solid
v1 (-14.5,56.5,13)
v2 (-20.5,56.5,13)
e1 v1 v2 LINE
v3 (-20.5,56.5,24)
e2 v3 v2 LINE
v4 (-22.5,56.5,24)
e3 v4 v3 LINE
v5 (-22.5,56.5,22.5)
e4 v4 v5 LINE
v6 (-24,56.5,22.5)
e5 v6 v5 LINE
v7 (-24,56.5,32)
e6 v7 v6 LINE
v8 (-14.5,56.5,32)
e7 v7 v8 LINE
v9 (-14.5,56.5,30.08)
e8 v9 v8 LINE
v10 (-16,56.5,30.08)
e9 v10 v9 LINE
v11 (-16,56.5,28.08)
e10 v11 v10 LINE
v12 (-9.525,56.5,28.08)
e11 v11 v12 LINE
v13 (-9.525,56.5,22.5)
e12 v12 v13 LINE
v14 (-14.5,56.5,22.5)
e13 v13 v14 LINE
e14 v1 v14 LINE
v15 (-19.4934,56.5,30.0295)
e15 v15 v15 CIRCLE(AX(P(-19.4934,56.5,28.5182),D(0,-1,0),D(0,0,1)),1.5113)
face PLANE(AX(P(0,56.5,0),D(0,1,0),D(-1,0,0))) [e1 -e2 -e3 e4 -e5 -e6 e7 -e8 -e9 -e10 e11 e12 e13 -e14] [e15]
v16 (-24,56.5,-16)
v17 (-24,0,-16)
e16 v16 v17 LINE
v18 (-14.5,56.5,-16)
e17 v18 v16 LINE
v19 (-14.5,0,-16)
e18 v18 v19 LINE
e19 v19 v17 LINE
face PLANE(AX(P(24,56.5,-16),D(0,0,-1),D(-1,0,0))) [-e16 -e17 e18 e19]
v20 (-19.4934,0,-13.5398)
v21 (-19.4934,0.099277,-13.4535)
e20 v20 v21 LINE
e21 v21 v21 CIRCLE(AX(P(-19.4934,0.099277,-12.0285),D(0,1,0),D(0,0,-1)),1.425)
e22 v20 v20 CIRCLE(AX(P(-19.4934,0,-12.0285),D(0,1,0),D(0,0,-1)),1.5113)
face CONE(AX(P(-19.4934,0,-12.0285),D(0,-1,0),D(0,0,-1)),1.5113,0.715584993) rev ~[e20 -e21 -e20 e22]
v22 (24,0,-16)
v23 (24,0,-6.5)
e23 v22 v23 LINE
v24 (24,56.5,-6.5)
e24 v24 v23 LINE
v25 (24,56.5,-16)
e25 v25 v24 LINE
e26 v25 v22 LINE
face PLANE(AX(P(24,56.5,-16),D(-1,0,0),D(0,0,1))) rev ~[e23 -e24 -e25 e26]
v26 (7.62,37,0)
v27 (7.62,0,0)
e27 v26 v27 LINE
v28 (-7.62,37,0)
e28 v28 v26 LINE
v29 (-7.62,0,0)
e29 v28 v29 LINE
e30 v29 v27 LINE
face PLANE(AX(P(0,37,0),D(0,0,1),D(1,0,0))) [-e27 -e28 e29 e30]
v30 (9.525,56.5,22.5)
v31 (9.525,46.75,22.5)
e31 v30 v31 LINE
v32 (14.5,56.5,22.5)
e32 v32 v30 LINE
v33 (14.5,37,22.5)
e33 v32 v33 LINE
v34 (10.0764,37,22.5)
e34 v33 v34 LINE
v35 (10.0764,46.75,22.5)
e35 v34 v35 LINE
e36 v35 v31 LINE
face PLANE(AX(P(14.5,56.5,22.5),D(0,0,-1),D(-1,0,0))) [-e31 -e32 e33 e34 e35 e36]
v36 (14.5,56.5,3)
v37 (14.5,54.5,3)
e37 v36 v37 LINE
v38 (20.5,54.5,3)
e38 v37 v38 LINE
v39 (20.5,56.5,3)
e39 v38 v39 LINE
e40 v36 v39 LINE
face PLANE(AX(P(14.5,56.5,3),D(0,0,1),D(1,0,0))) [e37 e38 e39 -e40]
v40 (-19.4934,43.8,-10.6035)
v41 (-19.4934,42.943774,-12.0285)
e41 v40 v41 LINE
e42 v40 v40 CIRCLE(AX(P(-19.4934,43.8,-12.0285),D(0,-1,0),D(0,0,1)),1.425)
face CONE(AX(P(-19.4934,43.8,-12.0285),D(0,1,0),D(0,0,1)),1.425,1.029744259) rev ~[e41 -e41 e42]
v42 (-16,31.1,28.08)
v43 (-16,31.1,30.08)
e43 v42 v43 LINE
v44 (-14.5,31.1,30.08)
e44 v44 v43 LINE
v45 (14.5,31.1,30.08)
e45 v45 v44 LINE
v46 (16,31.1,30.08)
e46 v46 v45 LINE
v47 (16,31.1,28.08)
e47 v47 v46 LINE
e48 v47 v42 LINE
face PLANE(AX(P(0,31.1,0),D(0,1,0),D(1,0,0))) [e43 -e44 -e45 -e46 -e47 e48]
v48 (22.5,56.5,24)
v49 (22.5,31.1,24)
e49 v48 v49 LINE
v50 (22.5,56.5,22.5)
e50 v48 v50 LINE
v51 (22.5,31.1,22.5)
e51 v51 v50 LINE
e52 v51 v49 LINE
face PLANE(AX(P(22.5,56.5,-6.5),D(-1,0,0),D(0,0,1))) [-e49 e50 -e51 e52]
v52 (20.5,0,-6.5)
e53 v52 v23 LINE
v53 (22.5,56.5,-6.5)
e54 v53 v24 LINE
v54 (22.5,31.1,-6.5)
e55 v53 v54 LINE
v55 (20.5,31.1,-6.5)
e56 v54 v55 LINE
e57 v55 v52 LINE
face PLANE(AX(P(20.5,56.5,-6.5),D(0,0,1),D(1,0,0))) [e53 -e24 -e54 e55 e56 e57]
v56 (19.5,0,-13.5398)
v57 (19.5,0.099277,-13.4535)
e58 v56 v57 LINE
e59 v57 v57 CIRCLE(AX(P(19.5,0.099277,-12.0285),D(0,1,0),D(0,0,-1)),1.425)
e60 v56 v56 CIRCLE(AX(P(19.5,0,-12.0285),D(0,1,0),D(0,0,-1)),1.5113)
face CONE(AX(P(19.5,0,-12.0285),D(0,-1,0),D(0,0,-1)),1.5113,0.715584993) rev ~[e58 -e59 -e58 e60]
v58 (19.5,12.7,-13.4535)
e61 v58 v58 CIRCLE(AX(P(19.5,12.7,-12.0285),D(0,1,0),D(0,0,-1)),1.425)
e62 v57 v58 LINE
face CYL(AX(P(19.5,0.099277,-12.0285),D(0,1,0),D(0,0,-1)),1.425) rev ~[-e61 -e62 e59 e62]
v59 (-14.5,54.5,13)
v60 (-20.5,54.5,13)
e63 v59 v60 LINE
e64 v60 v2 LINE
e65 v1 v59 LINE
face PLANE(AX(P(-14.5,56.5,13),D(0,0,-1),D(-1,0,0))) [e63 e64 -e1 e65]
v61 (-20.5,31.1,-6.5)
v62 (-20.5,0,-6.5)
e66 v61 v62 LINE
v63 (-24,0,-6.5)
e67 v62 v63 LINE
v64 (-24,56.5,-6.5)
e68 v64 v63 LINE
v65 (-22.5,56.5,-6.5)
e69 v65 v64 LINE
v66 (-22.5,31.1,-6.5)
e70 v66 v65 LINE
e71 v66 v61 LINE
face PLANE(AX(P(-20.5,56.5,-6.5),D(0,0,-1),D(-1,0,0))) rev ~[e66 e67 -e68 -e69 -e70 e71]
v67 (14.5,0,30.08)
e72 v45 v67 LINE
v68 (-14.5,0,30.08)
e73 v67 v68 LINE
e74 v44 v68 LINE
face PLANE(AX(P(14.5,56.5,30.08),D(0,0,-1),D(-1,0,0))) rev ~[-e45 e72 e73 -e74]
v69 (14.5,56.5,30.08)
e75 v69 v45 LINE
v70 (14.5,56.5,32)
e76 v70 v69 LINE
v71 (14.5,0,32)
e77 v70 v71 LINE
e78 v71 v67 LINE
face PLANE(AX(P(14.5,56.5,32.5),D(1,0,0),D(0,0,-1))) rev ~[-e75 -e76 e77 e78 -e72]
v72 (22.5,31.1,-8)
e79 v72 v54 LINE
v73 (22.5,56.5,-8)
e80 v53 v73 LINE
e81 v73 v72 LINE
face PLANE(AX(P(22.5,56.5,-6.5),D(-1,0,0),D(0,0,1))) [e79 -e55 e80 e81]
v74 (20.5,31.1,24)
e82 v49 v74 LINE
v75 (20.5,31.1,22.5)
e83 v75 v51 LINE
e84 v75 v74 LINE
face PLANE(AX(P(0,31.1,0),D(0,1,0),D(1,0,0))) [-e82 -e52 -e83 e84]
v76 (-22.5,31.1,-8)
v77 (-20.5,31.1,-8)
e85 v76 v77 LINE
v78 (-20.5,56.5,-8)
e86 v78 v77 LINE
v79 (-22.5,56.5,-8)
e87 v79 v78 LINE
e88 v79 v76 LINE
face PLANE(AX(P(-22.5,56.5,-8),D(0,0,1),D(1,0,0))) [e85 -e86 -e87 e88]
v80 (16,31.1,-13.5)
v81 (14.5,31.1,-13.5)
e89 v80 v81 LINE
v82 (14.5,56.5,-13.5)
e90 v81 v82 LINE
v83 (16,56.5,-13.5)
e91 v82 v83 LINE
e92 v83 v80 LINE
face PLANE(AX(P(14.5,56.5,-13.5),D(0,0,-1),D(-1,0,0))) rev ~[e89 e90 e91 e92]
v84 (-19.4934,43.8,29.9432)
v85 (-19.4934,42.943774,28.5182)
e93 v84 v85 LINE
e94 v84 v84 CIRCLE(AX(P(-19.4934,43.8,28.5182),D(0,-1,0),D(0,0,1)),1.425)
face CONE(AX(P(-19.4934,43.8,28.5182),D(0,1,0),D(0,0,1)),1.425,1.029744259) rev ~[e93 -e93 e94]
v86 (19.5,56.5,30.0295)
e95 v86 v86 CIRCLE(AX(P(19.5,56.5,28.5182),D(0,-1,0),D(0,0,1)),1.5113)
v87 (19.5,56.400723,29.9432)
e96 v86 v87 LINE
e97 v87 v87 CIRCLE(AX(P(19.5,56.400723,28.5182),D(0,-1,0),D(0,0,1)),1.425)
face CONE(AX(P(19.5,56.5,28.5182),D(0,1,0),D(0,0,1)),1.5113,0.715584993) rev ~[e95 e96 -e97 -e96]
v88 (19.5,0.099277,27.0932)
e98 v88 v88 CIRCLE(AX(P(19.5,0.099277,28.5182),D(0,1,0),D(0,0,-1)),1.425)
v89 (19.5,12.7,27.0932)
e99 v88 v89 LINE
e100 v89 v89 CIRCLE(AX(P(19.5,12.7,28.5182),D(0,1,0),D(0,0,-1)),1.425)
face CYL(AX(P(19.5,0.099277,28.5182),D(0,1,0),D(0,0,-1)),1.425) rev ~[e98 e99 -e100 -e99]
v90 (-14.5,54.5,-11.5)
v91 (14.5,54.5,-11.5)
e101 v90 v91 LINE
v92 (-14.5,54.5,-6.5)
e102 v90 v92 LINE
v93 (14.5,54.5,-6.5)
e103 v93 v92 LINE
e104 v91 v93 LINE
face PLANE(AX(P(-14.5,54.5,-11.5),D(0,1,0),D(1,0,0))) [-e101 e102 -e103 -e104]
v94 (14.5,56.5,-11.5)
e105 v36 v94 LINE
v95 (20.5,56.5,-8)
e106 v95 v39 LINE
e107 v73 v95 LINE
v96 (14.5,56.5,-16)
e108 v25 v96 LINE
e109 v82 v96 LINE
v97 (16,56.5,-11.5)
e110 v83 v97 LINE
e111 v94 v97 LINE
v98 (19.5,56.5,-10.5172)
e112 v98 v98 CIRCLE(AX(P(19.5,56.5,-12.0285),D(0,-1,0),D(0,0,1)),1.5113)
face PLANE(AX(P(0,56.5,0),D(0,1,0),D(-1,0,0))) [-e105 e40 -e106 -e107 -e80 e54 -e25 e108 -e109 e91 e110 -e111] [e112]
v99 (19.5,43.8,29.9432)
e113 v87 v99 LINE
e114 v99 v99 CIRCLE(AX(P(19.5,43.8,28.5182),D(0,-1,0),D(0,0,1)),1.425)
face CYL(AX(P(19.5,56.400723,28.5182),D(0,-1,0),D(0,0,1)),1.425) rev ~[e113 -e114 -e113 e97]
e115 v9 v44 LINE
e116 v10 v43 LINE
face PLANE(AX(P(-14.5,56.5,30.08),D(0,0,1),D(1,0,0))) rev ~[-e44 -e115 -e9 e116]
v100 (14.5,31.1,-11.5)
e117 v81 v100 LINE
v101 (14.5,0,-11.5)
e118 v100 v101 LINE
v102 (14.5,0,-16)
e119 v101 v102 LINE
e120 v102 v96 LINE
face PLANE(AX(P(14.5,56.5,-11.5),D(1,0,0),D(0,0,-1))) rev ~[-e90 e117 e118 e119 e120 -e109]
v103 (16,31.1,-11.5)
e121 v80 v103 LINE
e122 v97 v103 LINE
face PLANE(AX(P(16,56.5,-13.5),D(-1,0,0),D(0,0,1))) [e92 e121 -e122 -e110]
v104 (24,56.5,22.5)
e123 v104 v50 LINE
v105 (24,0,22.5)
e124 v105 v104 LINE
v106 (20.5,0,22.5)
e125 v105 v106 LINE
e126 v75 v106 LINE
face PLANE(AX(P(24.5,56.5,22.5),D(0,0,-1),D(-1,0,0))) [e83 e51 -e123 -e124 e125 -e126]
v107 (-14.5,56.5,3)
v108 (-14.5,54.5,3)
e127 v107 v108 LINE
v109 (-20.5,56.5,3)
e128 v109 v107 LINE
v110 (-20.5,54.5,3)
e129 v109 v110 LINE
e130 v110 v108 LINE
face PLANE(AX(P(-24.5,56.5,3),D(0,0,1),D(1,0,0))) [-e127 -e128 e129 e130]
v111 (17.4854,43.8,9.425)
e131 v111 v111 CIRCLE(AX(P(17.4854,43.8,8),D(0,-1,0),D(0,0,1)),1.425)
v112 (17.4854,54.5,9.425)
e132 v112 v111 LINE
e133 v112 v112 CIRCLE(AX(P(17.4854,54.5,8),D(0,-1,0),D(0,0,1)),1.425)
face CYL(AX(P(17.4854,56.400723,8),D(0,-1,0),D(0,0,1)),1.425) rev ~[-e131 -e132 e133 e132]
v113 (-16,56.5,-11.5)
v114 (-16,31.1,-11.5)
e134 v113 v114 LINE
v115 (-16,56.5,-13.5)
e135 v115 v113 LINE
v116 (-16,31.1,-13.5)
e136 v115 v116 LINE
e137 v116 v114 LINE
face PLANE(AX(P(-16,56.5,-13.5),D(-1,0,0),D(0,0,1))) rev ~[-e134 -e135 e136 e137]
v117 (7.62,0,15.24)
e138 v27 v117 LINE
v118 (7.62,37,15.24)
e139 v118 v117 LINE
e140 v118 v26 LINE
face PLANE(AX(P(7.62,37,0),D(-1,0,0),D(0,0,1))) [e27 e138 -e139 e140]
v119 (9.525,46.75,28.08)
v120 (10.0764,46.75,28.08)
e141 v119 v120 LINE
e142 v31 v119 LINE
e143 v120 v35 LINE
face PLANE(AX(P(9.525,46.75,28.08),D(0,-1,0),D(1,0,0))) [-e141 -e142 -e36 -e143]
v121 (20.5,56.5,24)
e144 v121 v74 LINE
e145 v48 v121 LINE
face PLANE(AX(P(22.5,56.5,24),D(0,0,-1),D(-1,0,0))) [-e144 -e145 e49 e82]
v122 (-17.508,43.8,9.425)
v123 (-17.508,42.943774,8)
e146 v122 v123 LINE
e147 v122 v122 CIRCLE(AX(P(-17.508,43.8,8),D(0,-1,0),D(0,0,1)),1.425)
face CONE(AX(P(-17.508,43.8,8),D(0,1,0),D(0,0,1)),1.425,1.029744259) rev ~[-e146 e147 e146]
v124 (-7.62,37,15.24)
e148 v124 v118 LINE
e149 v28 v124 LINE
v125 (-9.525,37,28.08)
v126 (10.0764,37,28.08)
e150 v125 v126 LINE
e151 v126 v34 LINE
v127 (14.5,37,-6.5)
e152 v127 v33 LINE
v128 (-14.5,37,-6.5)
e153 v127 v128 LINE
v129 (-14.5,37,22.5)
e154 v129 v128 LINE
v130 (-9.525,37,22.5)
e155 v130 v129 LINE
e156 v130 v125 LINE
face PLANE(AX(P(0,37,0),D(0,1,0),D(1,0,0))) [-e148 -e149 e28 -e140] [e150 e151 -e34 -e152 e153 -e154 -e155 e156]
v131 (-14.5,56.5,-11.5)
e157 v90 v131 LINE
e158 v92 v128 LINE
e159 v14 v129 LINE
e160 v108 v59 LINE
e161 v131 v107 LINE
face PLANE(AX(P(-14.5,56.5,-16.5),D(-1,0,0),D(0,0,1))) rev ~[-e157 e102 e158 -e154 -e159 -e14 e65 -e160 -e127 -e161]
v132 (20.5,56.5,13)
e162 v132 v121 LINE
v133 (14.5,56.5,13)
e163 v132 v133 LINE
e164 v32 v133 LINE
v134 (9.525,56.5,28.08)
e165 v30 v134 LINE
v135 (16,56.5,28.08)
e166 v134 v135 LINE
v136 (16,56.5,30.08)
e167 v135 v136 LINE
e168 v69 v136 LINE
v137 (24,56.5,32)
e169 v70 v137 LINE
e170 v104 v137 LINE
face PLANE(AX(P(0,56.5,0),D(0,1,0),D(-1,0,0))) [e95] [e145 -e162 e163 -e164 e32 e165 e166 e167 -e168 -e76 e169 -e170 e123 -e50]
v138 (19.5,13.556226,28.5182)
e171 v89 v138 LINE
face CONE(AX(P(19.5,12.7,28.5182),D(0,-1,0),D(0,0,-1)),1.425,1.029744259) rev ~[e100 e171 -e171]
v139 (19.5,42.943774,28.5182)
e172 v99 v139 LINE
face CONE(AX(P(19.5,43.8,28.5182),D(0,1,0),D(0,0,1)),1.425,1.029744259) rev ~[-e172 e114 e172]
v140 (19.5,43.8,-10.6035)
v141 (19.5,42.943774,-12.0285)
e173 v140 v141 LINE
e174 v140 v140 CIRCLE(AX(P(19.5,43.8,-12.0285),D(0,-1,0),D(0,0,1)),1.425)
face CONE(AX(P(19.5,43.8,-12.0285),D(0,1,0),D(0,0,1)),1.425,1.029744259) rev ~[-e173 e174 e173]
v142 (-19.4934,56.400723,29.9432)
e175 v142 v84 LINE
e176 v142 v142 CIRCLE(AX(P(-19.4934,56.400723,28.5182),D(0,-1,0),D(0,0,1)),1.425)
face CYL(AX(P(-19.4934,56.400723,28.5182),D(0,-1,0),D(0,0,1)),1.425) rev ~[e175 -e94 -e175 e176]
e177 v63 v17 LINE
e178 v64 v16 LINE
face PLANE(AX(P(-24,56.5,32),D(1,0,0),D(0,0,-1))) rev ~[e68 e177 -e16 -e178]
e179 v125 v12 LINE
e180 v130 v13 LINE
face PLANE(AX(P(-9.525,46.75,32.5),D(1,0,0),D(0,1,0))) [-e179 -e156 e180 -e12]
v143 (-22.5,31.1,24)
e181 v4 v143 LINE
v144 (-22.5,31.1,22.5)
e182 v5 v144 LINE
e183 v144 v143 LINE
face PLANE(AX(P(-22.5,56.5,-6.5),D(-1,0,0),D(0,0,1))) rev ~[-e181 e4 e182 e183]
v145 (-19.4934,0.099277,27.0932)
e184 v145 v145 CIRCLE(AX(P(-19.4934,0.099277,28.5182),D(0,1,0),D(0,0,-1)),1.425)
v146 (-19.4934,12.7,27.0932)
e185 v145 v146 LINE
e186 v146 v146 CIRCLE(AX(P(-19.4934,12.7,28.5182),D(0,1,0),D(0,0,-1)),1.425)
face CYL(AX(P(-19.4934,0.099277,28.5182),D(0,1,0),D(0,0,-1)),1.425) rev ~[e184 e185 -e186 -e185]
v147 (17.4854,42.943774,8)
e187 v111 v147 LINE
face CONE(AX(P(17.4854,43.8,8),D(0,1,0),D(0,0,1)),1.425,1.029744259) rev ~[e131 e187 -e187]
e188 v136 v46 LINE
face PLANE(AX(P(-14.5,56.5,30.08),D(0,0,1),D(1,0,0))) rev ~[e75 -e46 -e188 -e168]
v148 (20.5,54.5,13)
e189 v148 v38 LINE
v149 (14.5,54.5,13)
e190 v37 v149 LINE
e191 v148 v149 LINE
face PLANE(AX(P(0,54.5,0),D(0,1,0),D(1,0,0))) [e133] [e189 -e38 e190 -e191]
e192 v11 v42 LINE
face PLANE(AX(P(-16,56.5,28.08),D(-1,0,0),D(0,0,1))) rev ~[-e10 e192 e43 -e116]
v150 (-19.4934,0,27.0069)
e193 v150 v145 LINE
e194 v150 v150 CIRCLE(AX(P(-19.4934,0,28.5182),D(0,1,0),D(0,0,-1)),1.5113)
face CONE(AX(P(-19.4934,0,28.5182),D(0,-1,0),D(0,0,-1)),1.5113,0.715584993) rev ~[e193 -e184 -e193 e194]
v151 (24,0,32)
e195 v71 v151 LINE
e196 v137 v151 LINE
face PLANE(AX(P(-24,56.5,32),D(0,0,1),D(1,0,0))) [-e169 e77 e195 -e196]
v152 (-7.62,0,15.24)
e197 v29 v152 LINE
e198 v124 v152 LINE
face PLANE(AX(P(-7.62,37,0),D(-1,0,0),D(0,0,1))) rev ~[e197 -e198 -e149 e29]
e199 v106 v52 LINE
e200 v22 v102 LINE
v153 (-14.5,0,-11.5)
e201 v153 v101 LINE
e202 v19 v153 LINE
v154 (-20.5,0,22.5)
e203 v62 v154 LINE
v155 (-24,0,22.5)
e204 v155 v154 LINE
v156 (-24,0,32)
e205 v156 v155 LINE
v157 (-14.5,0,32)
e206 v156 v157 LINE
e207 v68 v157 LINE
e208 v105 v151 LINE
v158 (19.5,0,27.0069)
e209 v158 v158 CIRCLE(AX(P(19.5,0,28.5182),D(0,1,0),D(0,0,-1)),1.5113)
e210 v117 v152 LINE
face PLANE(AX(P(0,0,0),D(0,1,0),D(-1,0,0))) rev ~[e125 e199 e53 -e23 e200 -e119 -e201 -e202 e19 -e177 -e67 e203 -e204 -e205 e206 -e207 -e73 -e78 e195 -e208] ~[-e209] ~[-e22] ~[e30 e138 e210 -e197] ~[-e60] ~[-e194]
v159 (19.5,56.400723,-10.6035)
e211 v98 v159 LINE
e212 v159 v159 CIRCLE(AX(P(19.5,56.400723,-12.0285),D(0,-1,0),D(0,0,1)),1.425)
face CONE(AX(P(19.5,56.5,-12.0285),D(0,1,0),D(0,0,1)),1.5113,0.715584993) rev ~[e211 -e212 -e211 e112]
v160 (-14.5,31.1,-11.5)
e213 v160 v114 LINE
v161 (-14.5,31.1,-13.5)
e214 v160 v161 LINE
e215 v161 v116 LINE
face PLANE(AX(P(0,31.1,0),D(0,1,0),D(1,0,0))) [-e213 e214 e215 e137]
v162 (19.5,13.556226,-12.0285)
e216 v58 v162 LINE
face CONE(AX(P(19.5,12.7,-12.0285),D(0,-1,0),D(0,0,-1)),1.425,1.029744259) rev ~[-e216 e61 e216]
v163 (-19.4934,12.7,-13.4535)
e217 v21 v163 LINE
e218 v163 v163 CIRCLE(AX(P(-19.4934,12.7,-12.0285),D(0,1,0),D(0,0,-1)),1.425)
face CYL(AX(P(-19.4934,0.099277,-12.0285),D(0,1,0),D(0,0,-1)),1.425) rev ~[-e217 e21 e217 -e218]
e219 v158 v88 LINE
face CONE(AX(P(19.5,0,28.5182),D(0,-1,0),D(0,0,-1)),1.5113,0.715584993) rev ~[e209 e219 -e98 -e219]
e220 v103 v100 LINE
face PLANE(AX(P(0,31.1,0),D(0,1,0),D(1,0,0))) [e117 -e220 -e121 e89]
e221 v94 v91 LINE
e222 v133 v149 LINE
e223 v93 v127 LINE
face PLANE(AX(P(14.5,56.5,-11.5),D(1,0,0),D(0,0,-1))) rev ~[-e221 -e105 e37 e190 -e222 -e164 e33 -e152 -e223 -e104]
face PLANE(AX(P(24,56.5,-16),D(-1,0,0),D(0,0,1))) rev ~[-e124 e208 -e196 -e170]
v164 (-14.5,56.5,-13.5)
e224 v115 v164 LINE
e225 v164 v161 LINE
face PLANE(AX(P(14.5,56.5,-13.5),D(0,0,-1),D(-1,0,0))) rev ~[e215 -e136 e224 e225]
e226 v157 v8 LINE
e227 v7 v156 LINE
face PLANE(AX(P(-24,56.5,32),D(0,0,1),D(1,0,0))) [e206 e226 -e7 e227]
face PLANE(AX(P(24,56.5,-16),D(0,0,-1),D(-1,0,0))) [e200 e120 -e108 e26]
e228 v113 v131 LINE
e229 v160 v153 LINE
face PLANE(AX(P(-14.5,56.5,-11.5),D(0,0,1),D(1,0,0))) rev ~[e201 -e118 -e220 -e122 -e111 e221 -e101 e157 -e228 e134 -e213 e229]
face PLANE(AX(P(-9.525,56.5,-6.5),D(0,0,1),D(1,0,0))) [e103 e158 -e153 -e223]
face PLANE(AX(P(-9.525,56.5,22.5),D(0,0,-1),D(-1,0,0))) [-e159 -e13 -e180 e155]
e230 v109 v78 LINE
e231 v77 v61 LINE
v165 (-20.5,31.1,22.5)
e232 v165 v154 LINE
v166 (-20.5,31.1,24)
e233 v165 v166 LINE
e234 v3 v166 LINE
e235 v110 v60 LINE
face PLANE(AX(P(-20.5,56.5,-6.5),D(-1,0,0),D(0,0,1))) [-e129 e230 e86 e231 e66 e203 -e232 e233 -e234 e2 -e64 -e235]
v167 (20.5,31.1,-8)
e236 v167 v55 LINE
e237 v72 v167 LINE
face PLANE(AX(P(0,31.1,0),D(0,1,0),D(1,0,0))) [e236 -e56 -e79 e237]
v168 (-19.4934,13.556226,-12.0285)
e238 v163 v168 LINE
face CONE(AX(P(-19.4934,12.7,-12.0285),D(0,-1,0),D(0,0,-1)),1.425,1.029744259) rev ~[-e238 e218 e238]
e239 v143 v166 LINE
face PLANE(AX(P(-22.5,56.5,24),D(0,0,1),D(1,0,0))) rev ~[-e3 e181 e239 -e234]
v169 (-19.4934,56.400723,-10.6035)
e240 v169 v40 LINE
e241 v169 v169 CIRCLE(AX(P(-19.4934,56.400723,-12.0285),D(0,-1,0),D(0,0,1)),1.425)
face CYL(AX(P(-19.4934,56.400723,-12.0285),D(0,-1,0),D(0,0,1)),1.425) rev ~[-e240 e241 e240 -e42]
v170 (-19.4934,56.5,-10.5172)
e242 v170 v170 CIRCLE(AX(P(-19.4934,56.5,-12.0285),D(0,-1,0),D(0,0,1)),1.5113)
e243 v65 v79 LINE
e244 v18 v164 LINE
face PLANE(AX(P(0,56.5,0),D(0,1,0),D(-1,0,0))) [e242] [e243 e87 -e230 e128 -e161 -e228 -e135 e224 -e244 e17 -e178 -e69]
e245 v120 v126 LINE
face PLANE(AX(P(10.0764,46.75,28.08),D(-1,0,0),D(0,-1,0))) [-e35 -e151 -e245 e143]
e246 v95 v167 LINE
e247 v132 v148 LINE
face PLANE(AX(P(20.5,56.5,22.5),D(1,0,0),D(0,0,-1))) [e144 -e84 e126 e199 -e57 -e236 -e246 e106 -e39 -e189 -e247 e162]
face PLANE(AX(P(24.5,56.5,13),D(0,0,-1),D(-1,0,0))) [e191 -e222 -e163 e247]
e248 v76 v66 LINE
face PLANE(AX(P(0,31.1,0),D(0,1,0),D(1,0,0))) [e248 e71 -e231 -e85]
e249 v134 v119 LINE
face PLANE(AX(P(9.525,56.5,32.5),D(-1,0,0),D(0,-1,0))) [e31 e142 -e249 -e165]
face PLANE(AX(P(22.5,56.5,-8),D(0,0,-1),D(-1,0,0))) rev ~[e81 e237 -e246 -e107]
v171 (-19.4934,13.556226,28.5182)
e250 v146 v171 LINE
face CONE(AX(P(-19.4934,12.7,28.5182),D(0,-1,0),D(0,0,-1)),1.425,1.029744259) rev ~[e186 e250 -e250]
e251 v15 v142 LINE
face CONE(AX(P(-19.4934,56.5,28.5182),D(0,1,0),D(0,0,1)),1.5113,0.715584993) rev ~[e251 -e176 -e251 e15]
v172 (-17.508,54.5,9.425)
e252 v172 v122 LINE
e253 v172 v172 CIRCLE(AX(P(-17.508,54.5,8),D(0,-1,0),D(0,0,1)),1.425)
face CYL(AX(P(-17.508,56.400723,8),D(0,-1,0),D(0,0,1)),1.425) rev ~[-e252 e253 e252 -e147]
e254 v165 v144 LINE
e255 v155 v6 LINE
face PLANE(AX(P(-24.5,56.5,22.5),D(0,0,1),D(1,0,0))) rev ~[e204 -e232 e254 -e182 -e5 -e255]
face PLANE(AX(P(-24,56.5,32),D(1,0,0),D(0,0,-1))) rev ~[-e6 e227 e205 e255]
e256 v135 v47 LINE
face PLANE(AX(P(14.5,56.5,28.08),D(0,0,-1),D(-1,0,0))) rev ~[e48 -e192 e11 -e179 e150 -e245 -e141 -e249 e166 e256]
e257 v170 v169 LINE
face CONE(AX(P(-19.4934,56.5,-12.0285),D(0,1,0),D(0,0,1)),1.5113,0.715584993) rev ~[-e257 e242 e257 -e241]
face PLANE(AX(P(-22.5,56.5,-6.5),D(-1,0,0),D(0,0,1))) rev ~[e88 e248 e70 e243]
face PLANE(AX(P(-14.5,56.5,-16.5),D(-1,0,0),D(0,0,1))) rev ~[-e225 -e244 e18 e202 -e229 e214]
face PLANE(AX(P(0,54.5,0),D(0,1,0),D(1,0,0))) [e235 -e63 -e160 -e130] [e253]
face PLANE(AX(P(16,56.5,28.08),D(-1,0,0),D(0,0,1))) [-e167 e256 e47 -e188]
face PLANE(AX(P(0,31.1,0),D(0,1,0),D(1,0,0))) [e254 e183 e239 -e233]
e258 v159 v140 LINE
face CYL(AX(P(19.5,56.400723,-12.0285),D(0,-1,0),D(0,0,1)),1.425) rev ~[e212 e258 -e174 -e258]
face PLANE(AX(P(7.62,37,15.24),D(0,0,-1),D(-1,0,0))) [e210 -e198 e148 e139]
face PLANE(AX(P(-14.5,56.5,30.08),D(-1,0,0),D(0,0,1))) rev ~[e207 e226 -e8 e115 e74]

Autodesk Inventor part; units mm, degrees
ref_plane "YZ Plane" through (0, 0, 0) normal (1, 0, 0) x (0, 1, 0)
ref_plane "XZ Plane" through (0, 0, 0) normal (0, 1, 0) x (-1, 0, 0)
ref_plane "XY Plane" through (0, 0, 0) normal (0, 0, 1) x (1, 0, 0)
sketch "Sketch1" plane through (0, 0, 0) normal (0, 1, 0) x (-1, 0, 0)
  line L0 (101.6, 101.6) -> (-101.6, 101.6)
  line L1 (-101.6, 101.6) -> (-101.6, -101.6)
  line L2 (-101.6, -101.6) -> (101.6, -101.6)
  line L3 (101.6, -101.6) -> (101.6, 101.6)
  circle A0 centre (0, 0) radius 2.5
  line L4 (9.525, -6.5) -> (-9.525, -6.5)
  line L5 (0, 0) -> (0, 8)
  line L6 (-14.5, -6.5) -> (-14.5, 22.5)
  line L7 (14.5, 22.5) -> (14.5, -6.5)
  circle A1 centre (0, 8) radius 14
  line L8 (-14.5, 22.5) -> (14.5, 22.5)
  line L9 (14.5, -6.5) -> (-14.5, -6.5)
  line L10 (-24.5, 32.5) -> (24.5, 32.5)
  line L11 (24.5, 32.5) -> (24.5, -16.5)
  line L12 (24.5, -16.5) -> (-24.5, -16.5)
  line L13 (-24.5, -16.5) -> (-24.5, 32.5)
  line L14 (-9.525, 22.5) -> (9.525, 22.5)
  line L15 (9.525, 22.5) -> (9.525, 27.58)
  line L16 (9.525, 27.58) -> (-9.525, 27.58)
  line L17 (-9.525, 27.58) -> (-9.525, 22.5)
  point P0 (9.525, 22.5)
  point P1 (-9.525, -6.5)
  dimension "d0" = 203.2
  dimension "d1" = 203.2
  dimension "d2" = 8
  dimension "d3" = 28
  dimension "d4" = 29
  dimension "d5" = 29
  dimension "d6" = 14.5
  dimension "d7" = 10
  dimension "d8" = 10
  dimension "d9" = 10
  dimension "d10" = 10
  dimension "d11" = 5.08
  dimension "d12" = 9.525
  dimension "d13" = 9.525
  dimension "d14" = 101.6
  dimension "d15" = 101.6
extrude "Extrusion1" add sketch "Sketch1" along normal blind 56.5 contours A0 | L4 L9 L6 L8 L7 | L8 L17 L16 L15 | A1 | L10 L11 L12 L13
sketch "Sketch2" plane through (0, 56.5, 0) normal (0, 1, 0) x (1, 0, 0)
  line L0 (101.6, 101.6) -> (-101.6, 101.6)
  line L1 (-101.6, 101.6) -> (-101.6, -101.6)
  line L2 (-101.6, -101.6) -> (101.6, -101.6)
  line L3 (101.6, -101.6) -> (101.6, 101.6)
  circle A0 centre (0, 0) radius 2.5
  line L4 (-9.525, 6.5) -> (9.525, 6.5)
  line L5 (0, 0) -> (0, -8)
  line L6 (14.5, 6.5) -> (14.5, -22.5)
  line L7 (-14.5, -22.5) -> (-14.5, 6.5)
  circle A1 centre (0, -8) radius 14
  line L8 (14.5, -22.5) -> (-14.5, -22.5)
  line L9 (-14.5, 6.5) -> (14.5, 6.5)
  line L10 (24.5, -32.5) -> (-24.5, -32.5)
  line L11 (-24.5, -32.5) -> (-24.5, 16.5)
  line L12 (-24.5, 16.5) -> (24.5, 16.5)
  line L13 (24.5, 16.5) -> (24.5, -32.5)
  line L14 (9.525, -22.5) -> (-9.525, -22.5)
  line L15 (-9.525, -22.5) -> (-9.525, -27.58)
  line L16 (-9.525, -27.58) -> (9.525, -27.58)
  line L17 (9.525, -27.58) -> (9.525, -22.5)
  point P0 (9.525, 22.5)
  point P1 (-9.525, -6.5)
  dimension "d18" = 203.2
  dimension "d19" = 203.2
  dimension "d20" = 8
  dimension "d21" = 28
  dimension "d22" = 29
  dimension "d23" = 29
  dimension "d24" = 14.5
  dimension "d25" = 10
  dimension "d26" = 10
  dimension "d27" = 10
  dimension "d28" = 10
  dimension "d29" = 5.08
  dimension "d30" = 9.525
  dimension "d31" = 9.525
  dimension "d32" = 101.6
  dimension "d33" = 101.6
extrude "Extrusion2" cut sketch "Sketch2" against normal blind 19.5 contours A0 | L4 L9 L6 L8 L7 | L8 L17 L16 L15 | A1
sketch "Sketch4" plane through (0, 56.5, 0) normal (0, 1, 0) x (1, 0, 0)
  circle A0 centre (-17.508, -8) radius 2
  circle A1 centre (17.4854, -8) radius 2
  circle A2 centre (17.4854, -8) radius 2
  circle A3 centre (0, -8.01) radius 14
  circle A4 centre (0, -0.01) radius 2.5
  circle A5 centre (-19.4934, 12.0285) radius 2.2448
  circle A6 centre (19.5, 12.0285) radius 2.3104
  circle A7 centre (19.5, -28.5182) radius 2.2008
  circle A8 centre (-19.4934, -28.5182) radius 2.3894
  point P0 (0, 0)
  dimension "d37" = 34.9934
  dimension "d38" = 28
  dimension "d39" = 8
  dimension "d65" = 8
  dimension "d66" = 8
hole "Hole1" at (-17.508, 56.5, 8) at (17.4854, 56.5, 8) at (-19.4934, 56.5, 28.5182) at (19.5, 56.5, 28.5182) at (-19.4934, 56.5, -12.0285) at (19.5, 56.5, -12.0285) direction (0, -1, 0) diameter 2.85 depth 12.7 tip angle 118 countersink diameter 3.0226 countersink angle 82 thread size "M3.5x0.6" class "6H" standard "ANSI Metric M Profile"
sketch "Sketch5" plane through (0, 0, 0) normal (0, -1, 0) x (1, 0, 0)
  circle A0 centre (-19.4934, 28.5182) radius 1.425 projected
  circle A1 centre (-19.4934, 28.5182) radius 1.425
  circle A2 centre (19.5, 28.5182) radius 1.425 projected
  circle A3 centre (19.5, 28.5182) radius 1.425
  circle A4 centre (19.5, -12.0285) radius 1.425 projected
  circle A5 centre (19.5, -12.0285) radius 1.425
  circle A6 centre (-19.4934, -12.0285) radius 1.5113 projected
  circle A7 centre (-19.4934, -12.0285) radius 1.5113
  point P0 (0, 0)
hole "Hole2" at (19.5, 0, -12.0285) at (-19.4934, 0, -12.0285) at (-19.4934, 0, 28.5182) at (19.5, 0, 28.5182) direction (0, 1, 0) diameter 2.85 depth 12.7 tip angle 118 countersink diameter 3.0226 countersink angle 82 thread size "M3.5x0.6" class "6H" standard "ANSI Metric M Profile"
sketch "Sketch6" plane through (-24.5, 0, 32.5) normal (0, 0, 1) x (1, 0, 0)
  line L0 (34.025, 56.5) -> (34.025, 37) projected
  line L1 (14.975, 56.5) -> (34.025, 56.5)
  line L2 (34.025, 56.5) -> (34.025, 46.75)
  line L3 (34.025, 46.75) -> (14.975, 46.75)
  line L4 (14.975, 46.75) -> (14.975, 56.5)
  point P0 (24.5, 0)
extrude "Extrusion3" cut sketch "Sketch6" against normal blind 25.4
sketch "Sketch8" plane through (0, 56.5, 0) normal (0, 1, 0) x (1, 0, 0)
  line L0 (-24.5, -3) -> (24.5, -3)
  line L1 (24.5, -3) -> (24.5, -13)
  line L2 (24.5, -13) -> (-24.5, -13)
  line L3 (-24.5, -13) -> (-24.5, -3)
  line L4 (14.5, 6.5) -> (14.5, -22.5) projected
  line L5 (14.5, -3) -> (14.5, -13)
  line L6 (-14.5, -22.5) -> (-14.5, 6.5) projected
  line L7 (-14.5, -3) -> (-14.5, -13)
  line L8 (24.5, -32.5) -> (24.5, 16.5) projected
  line L9 (-24.5, 16.5) -> (-24.5, -32.5) projected
  point P0 (0, 0)
  dimension "d58" = 10
  dimension "d60" = 0
  dimension "d61" = 0
  dimension "d62" = 3
extrude "Extrusion4" cut sketch "Sketch8" against normal blind 2 contours L0 L6 L2 L3 | L0 L1 L2 L4
sketch "Sketch9" plane through (0, 56.5, 0) normal (0, 1, 0) x (1, 0, 0)
  line L0 (-14.5, 6.5) -> (14.5, 6.5) projected
  line L1 (24.5, 16.5) -> (-24.5, 16.5) projected
  line L2 (-14.5, 6.5) -> (14.5, 6.5)
  line L3 (14.5, 6.5) -> (14.5, 16.5)
  line L4 (14.5, 16.5) -> (-14.5, 16.5)
  line L5 (-14.5, 16.5) -> (-14.5, 6.5)
  line L6 (14.5, 6.5) -> (14.5, -3) projected
  line L7 (-14.5, 11.5) -> (14.5, 11.5)
  line L8 (-24.5, 16.5) -> (-24.5, -32.5) projected
  line L9 (-14.5, 6.5) -> (-24.5, 6.5)
  line L10 (-24.5, 6.5) -> (-24.5, -22.5)
  line L11 (-24.5, -22.5) -> (-14.5, -22.5)
  line L12 (-14.5, -22.5) -> (-14.5, 6.5)
  line L13 (-9.525, -22.5) -> (-14.5, -22.5) projected
  line L14 (-20.5, 6.5) -> (-20.5, -22.5)
  line L15 (24.5, -32.5) -> (24.5, 16.5) projected
  line L16 (24.5, -22.5) -> (20.5, -22.5)
  line L17 (20.5, -22.5) -> (20.5, 6.5)
  line L18 (20.5, 6.5) -> (24.5, 6.5)
  line L19 (24.5, 6.5) -> (24.5, -22.5)
  line L20 (-24.5, -32.5) -> (24.5, -32.5) projected
  line L21 (14.5, -32.5) -> (14.5, -30.08)
  line L22 (14.5, -30.08) -> (-14.5, -30.08)
  line L23 (-14.5, -30.08) -> (-14.5, -32.5)
  line L24 (-9.525, -27.58) -> (9.525, -27.58) projected
  point P0 (0, 0)
  point P1 (-14.5, 16.5)
  dimension "d67" = 0
  dimension "d68" = 5
  dimension "d69" = 0
  dimension "d71" = 4
  dimension "d72" = 4
  dimension "d98" = 2.5
extrude "Extrusion5" cut sketch "Sketch9" against normal through all contours L5 L1 L3 L7 | L14 L11 L8 L9 | L15 L16 L17 L18 | L23 L22 L21 L20
sketch "Sketch11" plane through (0, 37, 0) normal (0, 1, 0) x (1, 0, 0)
  line L0 (-20.5, -3) -> (-14.5, -3) projected
  line L1 (20.5, -13) -> (20.5, -3) projected
  line L2 (-20.5, -3) -> (20.5, -3)
  line L3 (20.5, -3) -> (20.5, -13)
  line L4 (20.5, -13) -> (-20.5, -13)
  line L5 (-20.5, -13) -> (-20.5, -3)
  point P0 (0, 0)
  dimension "d75" = 41
  dimension "d76" = 10
sketch "Sketch12" plane through (14.5, 56.5, -11.5) normal (0, 0, -1) x (-1, 0, 0)
  line L0 (0, 0) -> (-6, 0) projected
  line L1 (29, 0) -> (29, -19.5) projected
  line L2 (0, 0) -> (29, 0)
  line L3 (29, 0) -> (29, -2)
  line L4 (29, -2) -> (0, -2)
  line L5 (0, -2) -> (0, 0)
  point P0 (14.5, -56.5)
  dimension "d77" = 2
extrude "Extrusion6" cut sketch "Sketch12" against normal blind 25.4
sketch "Sketch13" plane through (0, 37, 0) normal (0, 1, 0) x (1, 0, 0)
  line L0 (0, 0) -> (7.62, 0)
  line L1 (7.62, 0) -> (7.62, -15.24)
  line L2 (7.62, -15.24) -> (0, -15.24)
  line L3 (0, -15.24) -> (0, 0)
  line L4 (0, 0) -> (-7.62, 0)
  line L5 (-7.62, 0) -> (-7.62, -15.24)
  line L6 (-7.62, -15.24) -> (0, -15.24)
  line L7 (0, -15.24) -> (0, 0)
  line L8 (14.5, 6.5) -> (-14.5, 6.5) projected
  line L9 (-9.525, -27.58) -> (9.525, -27.58) projected
  dimension "d80" = 7.62
  dimension "d81" = 15.24
  dimension "d82" = 7.62
  dimension "d86" = 15.24
extrude "Extrusion7" cut sketch "Sketch13" against normal through all
sketch "Sketch14" plane through (0, 56.5, 0) normal (0, 1, 0) x (1, 0, 0)
  line L0 (-14.5, 16.5) -> (-24.5, 16.5) projected
  line L1 (24.5, 6.5) -> (24.5, 16.5) projected
  line L2 (-24.5, 16.5) -> (24.5, 16.5)
  line L3 (24.5, 16.5) -> (24.5, 16)
  line L4 (24.5, 16) -> (-24.5, 16)
  line L5 (-24.5, 16) -> (-24.5, 16.5)
  line L6 (24.5, 16.5) -> (14.5, 16.5) projected
  line L7 (9.525, -32.5) -> (24.5, -32.5) projected
  line L8 (24.5, 16.5) -> (24, 16.5)
  line L9 (24, 16.5) -> (24, -32.5)
  line L10 (24, -32.5) -> (24.5, -32.5)
  line L11 (24.5, -32.5) -> (24.5, 16.5)
  line L12 (-24.5, -22.5) -> (-24.5, -32.5) projected
  line L13 (24.5, -32.5) -> (-24.5, -32.5)
  line L14 (-24.5, -32.5) -> (-24.5, -32)
  line L15 (-24.5, -32) -> (24.5, -32)
  line L16 (24.5, -32) -> (24.5, -32.5)
  line L17 (-24.5, -32.5) -> (-9.525, -32.5) projected
  line L18 (-24.5, -32.5) -> (-24, -32.5)
  line L19 (-24, -32.5) -> (-24, 16.5)
  line L20 (-24, 16.5) -> (-24.5, 16.5)
  line L21 (-24.5, 16.5) -> (-24.5, -32.5)
  point P0 (0, 0)
  point P1 (-24.5, 16)
  point P2 (24, 16)
  point P3 (24, -32)
  point P4 (-24, -32)
  point P5 (-24, 16)
  dimension "d89" = 0.5
  dimension "d90" = 0.5
  dimension "d91" = 0.5
  dimension "d92" = 0.5
extrude "Extrusion8" cut sketch "Sketch14" against normal through all contours L2 L9 L4 L19 L0 | L19 L4 L5 L0 | L19 L15 L12 L21 L4 | L2 L1 L4 L9 | L4 L1 L11 L15 L9 | L19 L13 L12 L15 | L15 L9 L7 L13 L19 | L15 L11 L7 L9
sketch "Sketch18" plane through (0, 56.5, 0) normal (0, 1, 0) x (1, 0, 0)
  line L0 (-20.5, -22.5) -> (-20.5, 6.5) projected
  line L1 (-24, -22.5) -> (-20.5, -22.5) projected
  line L2 (-20.5, 6.5) -> (-22.5, 6.5)
  line L3 (-22.5, 6.5) -> (-22.5, -22.5)
  line L4 (-22.5, -22.5) -> (-20.5, -22.5)
  line L5 (-20.5, -22.5) -> (-20.5, 6.5)
  line L6 (-20.5, 6.5) -> (-22.5, 6.5)
  line L7 (-22.5, 6.5) -> (-22.5, 8)
  line L8 (-22.5, 8) -> (-20.5, 8)
  line L9 (-20.5, 8) -> (-20.5, 6.5)
  line L10 (-20.5, -22.5) -> (-22.5, -22.5)
  line L11 (-22.5, -22.5) -> (-22.5, -24)
  line L12 (-22.5, -24) -> (-20.5, -24)
  line L13 (-20.5, -24) -> (-20.5, -22.5)
  line L14 (-14.5, 16) -> (-14.5, 11.5) projected
  line L15 (14.5, 16) -> (14.5, -3) projected
  line L16 (-14.5, 11.5) -> (14.5, 11.5)
  line L17 (14.5, 11.5) -> (14.5, 13.5)
  line L18 (14.5, 13.5) -> (-14.5, 13.5)
  line L19 (-14.5, 13.5) -> (-14.5, 11.5)
  line L20 (14.5, 13.5) -> (16, 13.5)
  line L21 (16, 13.5) -> (16, 11.5)
  line L22 (16, 11.5) -> (14.5, 11.5)
  line L23 (14.5, 11.5) -> (14.5, 13.5)
  line L24 (-14.5, 13.5) -> (-16, 13.5)
  line L25 (-16, 13.5) -> (-16, 11.5)
  line L26 (-16, 11.5) -> (-14.5, 11.5)
  line L27 (-14.5, 11.5) -> (-14.5, 13.5)
  line L28 (20.5, -3) -> (20.5, 6.5) projected
  line L29 (20.5, -22.5) -> (24, -22.5) projected
  line L30 (20.5, 6.5) -> (22.5, 6.5)
  line L31 (22.5, 6.5) -> (22.5, -22.5)
  line L32 (22.5, -22.5) -> (20.5, -22.5)
  line L33 (20.5, -22.5) -> (20.5, 6.5)
  line L34 (20.5, 6.5) -> (22.5, 6.5)
  line L35 (22.5, 6.5) -> (22.5, 8)
  line L36 (22.5, 8) -> (20.5, 8)
  line L37 (20.5, 8) -> (20.5, 6.5)
  line L38 (20.5, -22.5) -> (22.5, -22.5)
  line L39 (22.5, -22.5) -> (22.5, -24)
  line L40 (22.5, -24) -> (20.5, -24)
  line L41 (20.5, -24) -> (20.5, -22.5)
  line L42 (-14.5, -30.08) -> (14.5, -30.08)
  line L43 (14.5, -30.08) -> (14.5, -28.08)
  line L44 (14.5, -28.08) -> (-14.5, -28.08)
  line L45 (-14.5, -28.08) -> (-14.5, -30.08)
  line L46 (14.5, -28.08) -> (16, -28.08)
  line L47 (16, -28.08) -> (16, -30.08)
  line L48 (16, -30.08) -> (14.5, -30.08)
  line L49 (14.5, -30.08) -> (14.5, -28.08)
  line L50 (-14.5, -28.08) -> (-16, -28.08)
  line L51 (-16, -28.08) -> (-16, -30.08)
  line L52 (-16, -30.08) -> (-14.5, -30.08)
  line L53 (-14.5, -30.08) -> (-14.5, -28.08)
  point P0 (0, 0)
  point P1 (14.5, 11.5)
  dimension "d99" = 2
  dimension "d100" = 1.5
  dimension "d101" = 2
  dimension "d102" = 2
  dimension "d103" = 1.5
  dimension "d104" = 1.5
  dimension "d105" = 2
  dimension "d106" = 1.5
  dimension "d107" = 1.5
  dimension "d108" = 2
  dimension "d109" = 1.5
  dimension "d110" = 1.5
  dimension "d115" = 1.5
extrude "Extrusion9" cut sketch "Sketch18" against normal blind 25.4
sketch "Sketch19" plane through (-16, 56.5, 28.08) normal (0, 0, 1) x (1, 0, 0)
  line L0 (6.475, -9.75) -> (25.525, -9.75) projected
  line L1 (1.5, -19.5) -> (30.5, -19.5) projected
  line L2 (6.475, -9.75) -> (26.0764, -9.75)
  line L3 (26.0764, -9.75) -> (26.0764, -19.5)
  line L4 (26.0764, -19.5) -> (6.475, -19.5)
  line L5 (6.475, -19.5) -> (6.475, -9.75)
  point P0 (16, -56.5)
  point P1 (6.475, -19.5)
extrude "Extrusion10" cut sketch "Sketch19" against normal blind 25.4
sketch "Sketch20" plane through (20.5, 54.5, 3) normal (1, 0, 0) x (0, 0, -1)
  point P0 (3, -54.5)
equation "\"d86\" = d81"
equation "\"d100\" = d115"
equation "\"d103\" = d115"
equation "\"d104\" = d115"
equation "\"d106\" = d115"
equation "\"d107\" = d115"
equation "\"d109\" = d115"
equation "\"d110\" = d115"
properties part number "Motor_Holder"
